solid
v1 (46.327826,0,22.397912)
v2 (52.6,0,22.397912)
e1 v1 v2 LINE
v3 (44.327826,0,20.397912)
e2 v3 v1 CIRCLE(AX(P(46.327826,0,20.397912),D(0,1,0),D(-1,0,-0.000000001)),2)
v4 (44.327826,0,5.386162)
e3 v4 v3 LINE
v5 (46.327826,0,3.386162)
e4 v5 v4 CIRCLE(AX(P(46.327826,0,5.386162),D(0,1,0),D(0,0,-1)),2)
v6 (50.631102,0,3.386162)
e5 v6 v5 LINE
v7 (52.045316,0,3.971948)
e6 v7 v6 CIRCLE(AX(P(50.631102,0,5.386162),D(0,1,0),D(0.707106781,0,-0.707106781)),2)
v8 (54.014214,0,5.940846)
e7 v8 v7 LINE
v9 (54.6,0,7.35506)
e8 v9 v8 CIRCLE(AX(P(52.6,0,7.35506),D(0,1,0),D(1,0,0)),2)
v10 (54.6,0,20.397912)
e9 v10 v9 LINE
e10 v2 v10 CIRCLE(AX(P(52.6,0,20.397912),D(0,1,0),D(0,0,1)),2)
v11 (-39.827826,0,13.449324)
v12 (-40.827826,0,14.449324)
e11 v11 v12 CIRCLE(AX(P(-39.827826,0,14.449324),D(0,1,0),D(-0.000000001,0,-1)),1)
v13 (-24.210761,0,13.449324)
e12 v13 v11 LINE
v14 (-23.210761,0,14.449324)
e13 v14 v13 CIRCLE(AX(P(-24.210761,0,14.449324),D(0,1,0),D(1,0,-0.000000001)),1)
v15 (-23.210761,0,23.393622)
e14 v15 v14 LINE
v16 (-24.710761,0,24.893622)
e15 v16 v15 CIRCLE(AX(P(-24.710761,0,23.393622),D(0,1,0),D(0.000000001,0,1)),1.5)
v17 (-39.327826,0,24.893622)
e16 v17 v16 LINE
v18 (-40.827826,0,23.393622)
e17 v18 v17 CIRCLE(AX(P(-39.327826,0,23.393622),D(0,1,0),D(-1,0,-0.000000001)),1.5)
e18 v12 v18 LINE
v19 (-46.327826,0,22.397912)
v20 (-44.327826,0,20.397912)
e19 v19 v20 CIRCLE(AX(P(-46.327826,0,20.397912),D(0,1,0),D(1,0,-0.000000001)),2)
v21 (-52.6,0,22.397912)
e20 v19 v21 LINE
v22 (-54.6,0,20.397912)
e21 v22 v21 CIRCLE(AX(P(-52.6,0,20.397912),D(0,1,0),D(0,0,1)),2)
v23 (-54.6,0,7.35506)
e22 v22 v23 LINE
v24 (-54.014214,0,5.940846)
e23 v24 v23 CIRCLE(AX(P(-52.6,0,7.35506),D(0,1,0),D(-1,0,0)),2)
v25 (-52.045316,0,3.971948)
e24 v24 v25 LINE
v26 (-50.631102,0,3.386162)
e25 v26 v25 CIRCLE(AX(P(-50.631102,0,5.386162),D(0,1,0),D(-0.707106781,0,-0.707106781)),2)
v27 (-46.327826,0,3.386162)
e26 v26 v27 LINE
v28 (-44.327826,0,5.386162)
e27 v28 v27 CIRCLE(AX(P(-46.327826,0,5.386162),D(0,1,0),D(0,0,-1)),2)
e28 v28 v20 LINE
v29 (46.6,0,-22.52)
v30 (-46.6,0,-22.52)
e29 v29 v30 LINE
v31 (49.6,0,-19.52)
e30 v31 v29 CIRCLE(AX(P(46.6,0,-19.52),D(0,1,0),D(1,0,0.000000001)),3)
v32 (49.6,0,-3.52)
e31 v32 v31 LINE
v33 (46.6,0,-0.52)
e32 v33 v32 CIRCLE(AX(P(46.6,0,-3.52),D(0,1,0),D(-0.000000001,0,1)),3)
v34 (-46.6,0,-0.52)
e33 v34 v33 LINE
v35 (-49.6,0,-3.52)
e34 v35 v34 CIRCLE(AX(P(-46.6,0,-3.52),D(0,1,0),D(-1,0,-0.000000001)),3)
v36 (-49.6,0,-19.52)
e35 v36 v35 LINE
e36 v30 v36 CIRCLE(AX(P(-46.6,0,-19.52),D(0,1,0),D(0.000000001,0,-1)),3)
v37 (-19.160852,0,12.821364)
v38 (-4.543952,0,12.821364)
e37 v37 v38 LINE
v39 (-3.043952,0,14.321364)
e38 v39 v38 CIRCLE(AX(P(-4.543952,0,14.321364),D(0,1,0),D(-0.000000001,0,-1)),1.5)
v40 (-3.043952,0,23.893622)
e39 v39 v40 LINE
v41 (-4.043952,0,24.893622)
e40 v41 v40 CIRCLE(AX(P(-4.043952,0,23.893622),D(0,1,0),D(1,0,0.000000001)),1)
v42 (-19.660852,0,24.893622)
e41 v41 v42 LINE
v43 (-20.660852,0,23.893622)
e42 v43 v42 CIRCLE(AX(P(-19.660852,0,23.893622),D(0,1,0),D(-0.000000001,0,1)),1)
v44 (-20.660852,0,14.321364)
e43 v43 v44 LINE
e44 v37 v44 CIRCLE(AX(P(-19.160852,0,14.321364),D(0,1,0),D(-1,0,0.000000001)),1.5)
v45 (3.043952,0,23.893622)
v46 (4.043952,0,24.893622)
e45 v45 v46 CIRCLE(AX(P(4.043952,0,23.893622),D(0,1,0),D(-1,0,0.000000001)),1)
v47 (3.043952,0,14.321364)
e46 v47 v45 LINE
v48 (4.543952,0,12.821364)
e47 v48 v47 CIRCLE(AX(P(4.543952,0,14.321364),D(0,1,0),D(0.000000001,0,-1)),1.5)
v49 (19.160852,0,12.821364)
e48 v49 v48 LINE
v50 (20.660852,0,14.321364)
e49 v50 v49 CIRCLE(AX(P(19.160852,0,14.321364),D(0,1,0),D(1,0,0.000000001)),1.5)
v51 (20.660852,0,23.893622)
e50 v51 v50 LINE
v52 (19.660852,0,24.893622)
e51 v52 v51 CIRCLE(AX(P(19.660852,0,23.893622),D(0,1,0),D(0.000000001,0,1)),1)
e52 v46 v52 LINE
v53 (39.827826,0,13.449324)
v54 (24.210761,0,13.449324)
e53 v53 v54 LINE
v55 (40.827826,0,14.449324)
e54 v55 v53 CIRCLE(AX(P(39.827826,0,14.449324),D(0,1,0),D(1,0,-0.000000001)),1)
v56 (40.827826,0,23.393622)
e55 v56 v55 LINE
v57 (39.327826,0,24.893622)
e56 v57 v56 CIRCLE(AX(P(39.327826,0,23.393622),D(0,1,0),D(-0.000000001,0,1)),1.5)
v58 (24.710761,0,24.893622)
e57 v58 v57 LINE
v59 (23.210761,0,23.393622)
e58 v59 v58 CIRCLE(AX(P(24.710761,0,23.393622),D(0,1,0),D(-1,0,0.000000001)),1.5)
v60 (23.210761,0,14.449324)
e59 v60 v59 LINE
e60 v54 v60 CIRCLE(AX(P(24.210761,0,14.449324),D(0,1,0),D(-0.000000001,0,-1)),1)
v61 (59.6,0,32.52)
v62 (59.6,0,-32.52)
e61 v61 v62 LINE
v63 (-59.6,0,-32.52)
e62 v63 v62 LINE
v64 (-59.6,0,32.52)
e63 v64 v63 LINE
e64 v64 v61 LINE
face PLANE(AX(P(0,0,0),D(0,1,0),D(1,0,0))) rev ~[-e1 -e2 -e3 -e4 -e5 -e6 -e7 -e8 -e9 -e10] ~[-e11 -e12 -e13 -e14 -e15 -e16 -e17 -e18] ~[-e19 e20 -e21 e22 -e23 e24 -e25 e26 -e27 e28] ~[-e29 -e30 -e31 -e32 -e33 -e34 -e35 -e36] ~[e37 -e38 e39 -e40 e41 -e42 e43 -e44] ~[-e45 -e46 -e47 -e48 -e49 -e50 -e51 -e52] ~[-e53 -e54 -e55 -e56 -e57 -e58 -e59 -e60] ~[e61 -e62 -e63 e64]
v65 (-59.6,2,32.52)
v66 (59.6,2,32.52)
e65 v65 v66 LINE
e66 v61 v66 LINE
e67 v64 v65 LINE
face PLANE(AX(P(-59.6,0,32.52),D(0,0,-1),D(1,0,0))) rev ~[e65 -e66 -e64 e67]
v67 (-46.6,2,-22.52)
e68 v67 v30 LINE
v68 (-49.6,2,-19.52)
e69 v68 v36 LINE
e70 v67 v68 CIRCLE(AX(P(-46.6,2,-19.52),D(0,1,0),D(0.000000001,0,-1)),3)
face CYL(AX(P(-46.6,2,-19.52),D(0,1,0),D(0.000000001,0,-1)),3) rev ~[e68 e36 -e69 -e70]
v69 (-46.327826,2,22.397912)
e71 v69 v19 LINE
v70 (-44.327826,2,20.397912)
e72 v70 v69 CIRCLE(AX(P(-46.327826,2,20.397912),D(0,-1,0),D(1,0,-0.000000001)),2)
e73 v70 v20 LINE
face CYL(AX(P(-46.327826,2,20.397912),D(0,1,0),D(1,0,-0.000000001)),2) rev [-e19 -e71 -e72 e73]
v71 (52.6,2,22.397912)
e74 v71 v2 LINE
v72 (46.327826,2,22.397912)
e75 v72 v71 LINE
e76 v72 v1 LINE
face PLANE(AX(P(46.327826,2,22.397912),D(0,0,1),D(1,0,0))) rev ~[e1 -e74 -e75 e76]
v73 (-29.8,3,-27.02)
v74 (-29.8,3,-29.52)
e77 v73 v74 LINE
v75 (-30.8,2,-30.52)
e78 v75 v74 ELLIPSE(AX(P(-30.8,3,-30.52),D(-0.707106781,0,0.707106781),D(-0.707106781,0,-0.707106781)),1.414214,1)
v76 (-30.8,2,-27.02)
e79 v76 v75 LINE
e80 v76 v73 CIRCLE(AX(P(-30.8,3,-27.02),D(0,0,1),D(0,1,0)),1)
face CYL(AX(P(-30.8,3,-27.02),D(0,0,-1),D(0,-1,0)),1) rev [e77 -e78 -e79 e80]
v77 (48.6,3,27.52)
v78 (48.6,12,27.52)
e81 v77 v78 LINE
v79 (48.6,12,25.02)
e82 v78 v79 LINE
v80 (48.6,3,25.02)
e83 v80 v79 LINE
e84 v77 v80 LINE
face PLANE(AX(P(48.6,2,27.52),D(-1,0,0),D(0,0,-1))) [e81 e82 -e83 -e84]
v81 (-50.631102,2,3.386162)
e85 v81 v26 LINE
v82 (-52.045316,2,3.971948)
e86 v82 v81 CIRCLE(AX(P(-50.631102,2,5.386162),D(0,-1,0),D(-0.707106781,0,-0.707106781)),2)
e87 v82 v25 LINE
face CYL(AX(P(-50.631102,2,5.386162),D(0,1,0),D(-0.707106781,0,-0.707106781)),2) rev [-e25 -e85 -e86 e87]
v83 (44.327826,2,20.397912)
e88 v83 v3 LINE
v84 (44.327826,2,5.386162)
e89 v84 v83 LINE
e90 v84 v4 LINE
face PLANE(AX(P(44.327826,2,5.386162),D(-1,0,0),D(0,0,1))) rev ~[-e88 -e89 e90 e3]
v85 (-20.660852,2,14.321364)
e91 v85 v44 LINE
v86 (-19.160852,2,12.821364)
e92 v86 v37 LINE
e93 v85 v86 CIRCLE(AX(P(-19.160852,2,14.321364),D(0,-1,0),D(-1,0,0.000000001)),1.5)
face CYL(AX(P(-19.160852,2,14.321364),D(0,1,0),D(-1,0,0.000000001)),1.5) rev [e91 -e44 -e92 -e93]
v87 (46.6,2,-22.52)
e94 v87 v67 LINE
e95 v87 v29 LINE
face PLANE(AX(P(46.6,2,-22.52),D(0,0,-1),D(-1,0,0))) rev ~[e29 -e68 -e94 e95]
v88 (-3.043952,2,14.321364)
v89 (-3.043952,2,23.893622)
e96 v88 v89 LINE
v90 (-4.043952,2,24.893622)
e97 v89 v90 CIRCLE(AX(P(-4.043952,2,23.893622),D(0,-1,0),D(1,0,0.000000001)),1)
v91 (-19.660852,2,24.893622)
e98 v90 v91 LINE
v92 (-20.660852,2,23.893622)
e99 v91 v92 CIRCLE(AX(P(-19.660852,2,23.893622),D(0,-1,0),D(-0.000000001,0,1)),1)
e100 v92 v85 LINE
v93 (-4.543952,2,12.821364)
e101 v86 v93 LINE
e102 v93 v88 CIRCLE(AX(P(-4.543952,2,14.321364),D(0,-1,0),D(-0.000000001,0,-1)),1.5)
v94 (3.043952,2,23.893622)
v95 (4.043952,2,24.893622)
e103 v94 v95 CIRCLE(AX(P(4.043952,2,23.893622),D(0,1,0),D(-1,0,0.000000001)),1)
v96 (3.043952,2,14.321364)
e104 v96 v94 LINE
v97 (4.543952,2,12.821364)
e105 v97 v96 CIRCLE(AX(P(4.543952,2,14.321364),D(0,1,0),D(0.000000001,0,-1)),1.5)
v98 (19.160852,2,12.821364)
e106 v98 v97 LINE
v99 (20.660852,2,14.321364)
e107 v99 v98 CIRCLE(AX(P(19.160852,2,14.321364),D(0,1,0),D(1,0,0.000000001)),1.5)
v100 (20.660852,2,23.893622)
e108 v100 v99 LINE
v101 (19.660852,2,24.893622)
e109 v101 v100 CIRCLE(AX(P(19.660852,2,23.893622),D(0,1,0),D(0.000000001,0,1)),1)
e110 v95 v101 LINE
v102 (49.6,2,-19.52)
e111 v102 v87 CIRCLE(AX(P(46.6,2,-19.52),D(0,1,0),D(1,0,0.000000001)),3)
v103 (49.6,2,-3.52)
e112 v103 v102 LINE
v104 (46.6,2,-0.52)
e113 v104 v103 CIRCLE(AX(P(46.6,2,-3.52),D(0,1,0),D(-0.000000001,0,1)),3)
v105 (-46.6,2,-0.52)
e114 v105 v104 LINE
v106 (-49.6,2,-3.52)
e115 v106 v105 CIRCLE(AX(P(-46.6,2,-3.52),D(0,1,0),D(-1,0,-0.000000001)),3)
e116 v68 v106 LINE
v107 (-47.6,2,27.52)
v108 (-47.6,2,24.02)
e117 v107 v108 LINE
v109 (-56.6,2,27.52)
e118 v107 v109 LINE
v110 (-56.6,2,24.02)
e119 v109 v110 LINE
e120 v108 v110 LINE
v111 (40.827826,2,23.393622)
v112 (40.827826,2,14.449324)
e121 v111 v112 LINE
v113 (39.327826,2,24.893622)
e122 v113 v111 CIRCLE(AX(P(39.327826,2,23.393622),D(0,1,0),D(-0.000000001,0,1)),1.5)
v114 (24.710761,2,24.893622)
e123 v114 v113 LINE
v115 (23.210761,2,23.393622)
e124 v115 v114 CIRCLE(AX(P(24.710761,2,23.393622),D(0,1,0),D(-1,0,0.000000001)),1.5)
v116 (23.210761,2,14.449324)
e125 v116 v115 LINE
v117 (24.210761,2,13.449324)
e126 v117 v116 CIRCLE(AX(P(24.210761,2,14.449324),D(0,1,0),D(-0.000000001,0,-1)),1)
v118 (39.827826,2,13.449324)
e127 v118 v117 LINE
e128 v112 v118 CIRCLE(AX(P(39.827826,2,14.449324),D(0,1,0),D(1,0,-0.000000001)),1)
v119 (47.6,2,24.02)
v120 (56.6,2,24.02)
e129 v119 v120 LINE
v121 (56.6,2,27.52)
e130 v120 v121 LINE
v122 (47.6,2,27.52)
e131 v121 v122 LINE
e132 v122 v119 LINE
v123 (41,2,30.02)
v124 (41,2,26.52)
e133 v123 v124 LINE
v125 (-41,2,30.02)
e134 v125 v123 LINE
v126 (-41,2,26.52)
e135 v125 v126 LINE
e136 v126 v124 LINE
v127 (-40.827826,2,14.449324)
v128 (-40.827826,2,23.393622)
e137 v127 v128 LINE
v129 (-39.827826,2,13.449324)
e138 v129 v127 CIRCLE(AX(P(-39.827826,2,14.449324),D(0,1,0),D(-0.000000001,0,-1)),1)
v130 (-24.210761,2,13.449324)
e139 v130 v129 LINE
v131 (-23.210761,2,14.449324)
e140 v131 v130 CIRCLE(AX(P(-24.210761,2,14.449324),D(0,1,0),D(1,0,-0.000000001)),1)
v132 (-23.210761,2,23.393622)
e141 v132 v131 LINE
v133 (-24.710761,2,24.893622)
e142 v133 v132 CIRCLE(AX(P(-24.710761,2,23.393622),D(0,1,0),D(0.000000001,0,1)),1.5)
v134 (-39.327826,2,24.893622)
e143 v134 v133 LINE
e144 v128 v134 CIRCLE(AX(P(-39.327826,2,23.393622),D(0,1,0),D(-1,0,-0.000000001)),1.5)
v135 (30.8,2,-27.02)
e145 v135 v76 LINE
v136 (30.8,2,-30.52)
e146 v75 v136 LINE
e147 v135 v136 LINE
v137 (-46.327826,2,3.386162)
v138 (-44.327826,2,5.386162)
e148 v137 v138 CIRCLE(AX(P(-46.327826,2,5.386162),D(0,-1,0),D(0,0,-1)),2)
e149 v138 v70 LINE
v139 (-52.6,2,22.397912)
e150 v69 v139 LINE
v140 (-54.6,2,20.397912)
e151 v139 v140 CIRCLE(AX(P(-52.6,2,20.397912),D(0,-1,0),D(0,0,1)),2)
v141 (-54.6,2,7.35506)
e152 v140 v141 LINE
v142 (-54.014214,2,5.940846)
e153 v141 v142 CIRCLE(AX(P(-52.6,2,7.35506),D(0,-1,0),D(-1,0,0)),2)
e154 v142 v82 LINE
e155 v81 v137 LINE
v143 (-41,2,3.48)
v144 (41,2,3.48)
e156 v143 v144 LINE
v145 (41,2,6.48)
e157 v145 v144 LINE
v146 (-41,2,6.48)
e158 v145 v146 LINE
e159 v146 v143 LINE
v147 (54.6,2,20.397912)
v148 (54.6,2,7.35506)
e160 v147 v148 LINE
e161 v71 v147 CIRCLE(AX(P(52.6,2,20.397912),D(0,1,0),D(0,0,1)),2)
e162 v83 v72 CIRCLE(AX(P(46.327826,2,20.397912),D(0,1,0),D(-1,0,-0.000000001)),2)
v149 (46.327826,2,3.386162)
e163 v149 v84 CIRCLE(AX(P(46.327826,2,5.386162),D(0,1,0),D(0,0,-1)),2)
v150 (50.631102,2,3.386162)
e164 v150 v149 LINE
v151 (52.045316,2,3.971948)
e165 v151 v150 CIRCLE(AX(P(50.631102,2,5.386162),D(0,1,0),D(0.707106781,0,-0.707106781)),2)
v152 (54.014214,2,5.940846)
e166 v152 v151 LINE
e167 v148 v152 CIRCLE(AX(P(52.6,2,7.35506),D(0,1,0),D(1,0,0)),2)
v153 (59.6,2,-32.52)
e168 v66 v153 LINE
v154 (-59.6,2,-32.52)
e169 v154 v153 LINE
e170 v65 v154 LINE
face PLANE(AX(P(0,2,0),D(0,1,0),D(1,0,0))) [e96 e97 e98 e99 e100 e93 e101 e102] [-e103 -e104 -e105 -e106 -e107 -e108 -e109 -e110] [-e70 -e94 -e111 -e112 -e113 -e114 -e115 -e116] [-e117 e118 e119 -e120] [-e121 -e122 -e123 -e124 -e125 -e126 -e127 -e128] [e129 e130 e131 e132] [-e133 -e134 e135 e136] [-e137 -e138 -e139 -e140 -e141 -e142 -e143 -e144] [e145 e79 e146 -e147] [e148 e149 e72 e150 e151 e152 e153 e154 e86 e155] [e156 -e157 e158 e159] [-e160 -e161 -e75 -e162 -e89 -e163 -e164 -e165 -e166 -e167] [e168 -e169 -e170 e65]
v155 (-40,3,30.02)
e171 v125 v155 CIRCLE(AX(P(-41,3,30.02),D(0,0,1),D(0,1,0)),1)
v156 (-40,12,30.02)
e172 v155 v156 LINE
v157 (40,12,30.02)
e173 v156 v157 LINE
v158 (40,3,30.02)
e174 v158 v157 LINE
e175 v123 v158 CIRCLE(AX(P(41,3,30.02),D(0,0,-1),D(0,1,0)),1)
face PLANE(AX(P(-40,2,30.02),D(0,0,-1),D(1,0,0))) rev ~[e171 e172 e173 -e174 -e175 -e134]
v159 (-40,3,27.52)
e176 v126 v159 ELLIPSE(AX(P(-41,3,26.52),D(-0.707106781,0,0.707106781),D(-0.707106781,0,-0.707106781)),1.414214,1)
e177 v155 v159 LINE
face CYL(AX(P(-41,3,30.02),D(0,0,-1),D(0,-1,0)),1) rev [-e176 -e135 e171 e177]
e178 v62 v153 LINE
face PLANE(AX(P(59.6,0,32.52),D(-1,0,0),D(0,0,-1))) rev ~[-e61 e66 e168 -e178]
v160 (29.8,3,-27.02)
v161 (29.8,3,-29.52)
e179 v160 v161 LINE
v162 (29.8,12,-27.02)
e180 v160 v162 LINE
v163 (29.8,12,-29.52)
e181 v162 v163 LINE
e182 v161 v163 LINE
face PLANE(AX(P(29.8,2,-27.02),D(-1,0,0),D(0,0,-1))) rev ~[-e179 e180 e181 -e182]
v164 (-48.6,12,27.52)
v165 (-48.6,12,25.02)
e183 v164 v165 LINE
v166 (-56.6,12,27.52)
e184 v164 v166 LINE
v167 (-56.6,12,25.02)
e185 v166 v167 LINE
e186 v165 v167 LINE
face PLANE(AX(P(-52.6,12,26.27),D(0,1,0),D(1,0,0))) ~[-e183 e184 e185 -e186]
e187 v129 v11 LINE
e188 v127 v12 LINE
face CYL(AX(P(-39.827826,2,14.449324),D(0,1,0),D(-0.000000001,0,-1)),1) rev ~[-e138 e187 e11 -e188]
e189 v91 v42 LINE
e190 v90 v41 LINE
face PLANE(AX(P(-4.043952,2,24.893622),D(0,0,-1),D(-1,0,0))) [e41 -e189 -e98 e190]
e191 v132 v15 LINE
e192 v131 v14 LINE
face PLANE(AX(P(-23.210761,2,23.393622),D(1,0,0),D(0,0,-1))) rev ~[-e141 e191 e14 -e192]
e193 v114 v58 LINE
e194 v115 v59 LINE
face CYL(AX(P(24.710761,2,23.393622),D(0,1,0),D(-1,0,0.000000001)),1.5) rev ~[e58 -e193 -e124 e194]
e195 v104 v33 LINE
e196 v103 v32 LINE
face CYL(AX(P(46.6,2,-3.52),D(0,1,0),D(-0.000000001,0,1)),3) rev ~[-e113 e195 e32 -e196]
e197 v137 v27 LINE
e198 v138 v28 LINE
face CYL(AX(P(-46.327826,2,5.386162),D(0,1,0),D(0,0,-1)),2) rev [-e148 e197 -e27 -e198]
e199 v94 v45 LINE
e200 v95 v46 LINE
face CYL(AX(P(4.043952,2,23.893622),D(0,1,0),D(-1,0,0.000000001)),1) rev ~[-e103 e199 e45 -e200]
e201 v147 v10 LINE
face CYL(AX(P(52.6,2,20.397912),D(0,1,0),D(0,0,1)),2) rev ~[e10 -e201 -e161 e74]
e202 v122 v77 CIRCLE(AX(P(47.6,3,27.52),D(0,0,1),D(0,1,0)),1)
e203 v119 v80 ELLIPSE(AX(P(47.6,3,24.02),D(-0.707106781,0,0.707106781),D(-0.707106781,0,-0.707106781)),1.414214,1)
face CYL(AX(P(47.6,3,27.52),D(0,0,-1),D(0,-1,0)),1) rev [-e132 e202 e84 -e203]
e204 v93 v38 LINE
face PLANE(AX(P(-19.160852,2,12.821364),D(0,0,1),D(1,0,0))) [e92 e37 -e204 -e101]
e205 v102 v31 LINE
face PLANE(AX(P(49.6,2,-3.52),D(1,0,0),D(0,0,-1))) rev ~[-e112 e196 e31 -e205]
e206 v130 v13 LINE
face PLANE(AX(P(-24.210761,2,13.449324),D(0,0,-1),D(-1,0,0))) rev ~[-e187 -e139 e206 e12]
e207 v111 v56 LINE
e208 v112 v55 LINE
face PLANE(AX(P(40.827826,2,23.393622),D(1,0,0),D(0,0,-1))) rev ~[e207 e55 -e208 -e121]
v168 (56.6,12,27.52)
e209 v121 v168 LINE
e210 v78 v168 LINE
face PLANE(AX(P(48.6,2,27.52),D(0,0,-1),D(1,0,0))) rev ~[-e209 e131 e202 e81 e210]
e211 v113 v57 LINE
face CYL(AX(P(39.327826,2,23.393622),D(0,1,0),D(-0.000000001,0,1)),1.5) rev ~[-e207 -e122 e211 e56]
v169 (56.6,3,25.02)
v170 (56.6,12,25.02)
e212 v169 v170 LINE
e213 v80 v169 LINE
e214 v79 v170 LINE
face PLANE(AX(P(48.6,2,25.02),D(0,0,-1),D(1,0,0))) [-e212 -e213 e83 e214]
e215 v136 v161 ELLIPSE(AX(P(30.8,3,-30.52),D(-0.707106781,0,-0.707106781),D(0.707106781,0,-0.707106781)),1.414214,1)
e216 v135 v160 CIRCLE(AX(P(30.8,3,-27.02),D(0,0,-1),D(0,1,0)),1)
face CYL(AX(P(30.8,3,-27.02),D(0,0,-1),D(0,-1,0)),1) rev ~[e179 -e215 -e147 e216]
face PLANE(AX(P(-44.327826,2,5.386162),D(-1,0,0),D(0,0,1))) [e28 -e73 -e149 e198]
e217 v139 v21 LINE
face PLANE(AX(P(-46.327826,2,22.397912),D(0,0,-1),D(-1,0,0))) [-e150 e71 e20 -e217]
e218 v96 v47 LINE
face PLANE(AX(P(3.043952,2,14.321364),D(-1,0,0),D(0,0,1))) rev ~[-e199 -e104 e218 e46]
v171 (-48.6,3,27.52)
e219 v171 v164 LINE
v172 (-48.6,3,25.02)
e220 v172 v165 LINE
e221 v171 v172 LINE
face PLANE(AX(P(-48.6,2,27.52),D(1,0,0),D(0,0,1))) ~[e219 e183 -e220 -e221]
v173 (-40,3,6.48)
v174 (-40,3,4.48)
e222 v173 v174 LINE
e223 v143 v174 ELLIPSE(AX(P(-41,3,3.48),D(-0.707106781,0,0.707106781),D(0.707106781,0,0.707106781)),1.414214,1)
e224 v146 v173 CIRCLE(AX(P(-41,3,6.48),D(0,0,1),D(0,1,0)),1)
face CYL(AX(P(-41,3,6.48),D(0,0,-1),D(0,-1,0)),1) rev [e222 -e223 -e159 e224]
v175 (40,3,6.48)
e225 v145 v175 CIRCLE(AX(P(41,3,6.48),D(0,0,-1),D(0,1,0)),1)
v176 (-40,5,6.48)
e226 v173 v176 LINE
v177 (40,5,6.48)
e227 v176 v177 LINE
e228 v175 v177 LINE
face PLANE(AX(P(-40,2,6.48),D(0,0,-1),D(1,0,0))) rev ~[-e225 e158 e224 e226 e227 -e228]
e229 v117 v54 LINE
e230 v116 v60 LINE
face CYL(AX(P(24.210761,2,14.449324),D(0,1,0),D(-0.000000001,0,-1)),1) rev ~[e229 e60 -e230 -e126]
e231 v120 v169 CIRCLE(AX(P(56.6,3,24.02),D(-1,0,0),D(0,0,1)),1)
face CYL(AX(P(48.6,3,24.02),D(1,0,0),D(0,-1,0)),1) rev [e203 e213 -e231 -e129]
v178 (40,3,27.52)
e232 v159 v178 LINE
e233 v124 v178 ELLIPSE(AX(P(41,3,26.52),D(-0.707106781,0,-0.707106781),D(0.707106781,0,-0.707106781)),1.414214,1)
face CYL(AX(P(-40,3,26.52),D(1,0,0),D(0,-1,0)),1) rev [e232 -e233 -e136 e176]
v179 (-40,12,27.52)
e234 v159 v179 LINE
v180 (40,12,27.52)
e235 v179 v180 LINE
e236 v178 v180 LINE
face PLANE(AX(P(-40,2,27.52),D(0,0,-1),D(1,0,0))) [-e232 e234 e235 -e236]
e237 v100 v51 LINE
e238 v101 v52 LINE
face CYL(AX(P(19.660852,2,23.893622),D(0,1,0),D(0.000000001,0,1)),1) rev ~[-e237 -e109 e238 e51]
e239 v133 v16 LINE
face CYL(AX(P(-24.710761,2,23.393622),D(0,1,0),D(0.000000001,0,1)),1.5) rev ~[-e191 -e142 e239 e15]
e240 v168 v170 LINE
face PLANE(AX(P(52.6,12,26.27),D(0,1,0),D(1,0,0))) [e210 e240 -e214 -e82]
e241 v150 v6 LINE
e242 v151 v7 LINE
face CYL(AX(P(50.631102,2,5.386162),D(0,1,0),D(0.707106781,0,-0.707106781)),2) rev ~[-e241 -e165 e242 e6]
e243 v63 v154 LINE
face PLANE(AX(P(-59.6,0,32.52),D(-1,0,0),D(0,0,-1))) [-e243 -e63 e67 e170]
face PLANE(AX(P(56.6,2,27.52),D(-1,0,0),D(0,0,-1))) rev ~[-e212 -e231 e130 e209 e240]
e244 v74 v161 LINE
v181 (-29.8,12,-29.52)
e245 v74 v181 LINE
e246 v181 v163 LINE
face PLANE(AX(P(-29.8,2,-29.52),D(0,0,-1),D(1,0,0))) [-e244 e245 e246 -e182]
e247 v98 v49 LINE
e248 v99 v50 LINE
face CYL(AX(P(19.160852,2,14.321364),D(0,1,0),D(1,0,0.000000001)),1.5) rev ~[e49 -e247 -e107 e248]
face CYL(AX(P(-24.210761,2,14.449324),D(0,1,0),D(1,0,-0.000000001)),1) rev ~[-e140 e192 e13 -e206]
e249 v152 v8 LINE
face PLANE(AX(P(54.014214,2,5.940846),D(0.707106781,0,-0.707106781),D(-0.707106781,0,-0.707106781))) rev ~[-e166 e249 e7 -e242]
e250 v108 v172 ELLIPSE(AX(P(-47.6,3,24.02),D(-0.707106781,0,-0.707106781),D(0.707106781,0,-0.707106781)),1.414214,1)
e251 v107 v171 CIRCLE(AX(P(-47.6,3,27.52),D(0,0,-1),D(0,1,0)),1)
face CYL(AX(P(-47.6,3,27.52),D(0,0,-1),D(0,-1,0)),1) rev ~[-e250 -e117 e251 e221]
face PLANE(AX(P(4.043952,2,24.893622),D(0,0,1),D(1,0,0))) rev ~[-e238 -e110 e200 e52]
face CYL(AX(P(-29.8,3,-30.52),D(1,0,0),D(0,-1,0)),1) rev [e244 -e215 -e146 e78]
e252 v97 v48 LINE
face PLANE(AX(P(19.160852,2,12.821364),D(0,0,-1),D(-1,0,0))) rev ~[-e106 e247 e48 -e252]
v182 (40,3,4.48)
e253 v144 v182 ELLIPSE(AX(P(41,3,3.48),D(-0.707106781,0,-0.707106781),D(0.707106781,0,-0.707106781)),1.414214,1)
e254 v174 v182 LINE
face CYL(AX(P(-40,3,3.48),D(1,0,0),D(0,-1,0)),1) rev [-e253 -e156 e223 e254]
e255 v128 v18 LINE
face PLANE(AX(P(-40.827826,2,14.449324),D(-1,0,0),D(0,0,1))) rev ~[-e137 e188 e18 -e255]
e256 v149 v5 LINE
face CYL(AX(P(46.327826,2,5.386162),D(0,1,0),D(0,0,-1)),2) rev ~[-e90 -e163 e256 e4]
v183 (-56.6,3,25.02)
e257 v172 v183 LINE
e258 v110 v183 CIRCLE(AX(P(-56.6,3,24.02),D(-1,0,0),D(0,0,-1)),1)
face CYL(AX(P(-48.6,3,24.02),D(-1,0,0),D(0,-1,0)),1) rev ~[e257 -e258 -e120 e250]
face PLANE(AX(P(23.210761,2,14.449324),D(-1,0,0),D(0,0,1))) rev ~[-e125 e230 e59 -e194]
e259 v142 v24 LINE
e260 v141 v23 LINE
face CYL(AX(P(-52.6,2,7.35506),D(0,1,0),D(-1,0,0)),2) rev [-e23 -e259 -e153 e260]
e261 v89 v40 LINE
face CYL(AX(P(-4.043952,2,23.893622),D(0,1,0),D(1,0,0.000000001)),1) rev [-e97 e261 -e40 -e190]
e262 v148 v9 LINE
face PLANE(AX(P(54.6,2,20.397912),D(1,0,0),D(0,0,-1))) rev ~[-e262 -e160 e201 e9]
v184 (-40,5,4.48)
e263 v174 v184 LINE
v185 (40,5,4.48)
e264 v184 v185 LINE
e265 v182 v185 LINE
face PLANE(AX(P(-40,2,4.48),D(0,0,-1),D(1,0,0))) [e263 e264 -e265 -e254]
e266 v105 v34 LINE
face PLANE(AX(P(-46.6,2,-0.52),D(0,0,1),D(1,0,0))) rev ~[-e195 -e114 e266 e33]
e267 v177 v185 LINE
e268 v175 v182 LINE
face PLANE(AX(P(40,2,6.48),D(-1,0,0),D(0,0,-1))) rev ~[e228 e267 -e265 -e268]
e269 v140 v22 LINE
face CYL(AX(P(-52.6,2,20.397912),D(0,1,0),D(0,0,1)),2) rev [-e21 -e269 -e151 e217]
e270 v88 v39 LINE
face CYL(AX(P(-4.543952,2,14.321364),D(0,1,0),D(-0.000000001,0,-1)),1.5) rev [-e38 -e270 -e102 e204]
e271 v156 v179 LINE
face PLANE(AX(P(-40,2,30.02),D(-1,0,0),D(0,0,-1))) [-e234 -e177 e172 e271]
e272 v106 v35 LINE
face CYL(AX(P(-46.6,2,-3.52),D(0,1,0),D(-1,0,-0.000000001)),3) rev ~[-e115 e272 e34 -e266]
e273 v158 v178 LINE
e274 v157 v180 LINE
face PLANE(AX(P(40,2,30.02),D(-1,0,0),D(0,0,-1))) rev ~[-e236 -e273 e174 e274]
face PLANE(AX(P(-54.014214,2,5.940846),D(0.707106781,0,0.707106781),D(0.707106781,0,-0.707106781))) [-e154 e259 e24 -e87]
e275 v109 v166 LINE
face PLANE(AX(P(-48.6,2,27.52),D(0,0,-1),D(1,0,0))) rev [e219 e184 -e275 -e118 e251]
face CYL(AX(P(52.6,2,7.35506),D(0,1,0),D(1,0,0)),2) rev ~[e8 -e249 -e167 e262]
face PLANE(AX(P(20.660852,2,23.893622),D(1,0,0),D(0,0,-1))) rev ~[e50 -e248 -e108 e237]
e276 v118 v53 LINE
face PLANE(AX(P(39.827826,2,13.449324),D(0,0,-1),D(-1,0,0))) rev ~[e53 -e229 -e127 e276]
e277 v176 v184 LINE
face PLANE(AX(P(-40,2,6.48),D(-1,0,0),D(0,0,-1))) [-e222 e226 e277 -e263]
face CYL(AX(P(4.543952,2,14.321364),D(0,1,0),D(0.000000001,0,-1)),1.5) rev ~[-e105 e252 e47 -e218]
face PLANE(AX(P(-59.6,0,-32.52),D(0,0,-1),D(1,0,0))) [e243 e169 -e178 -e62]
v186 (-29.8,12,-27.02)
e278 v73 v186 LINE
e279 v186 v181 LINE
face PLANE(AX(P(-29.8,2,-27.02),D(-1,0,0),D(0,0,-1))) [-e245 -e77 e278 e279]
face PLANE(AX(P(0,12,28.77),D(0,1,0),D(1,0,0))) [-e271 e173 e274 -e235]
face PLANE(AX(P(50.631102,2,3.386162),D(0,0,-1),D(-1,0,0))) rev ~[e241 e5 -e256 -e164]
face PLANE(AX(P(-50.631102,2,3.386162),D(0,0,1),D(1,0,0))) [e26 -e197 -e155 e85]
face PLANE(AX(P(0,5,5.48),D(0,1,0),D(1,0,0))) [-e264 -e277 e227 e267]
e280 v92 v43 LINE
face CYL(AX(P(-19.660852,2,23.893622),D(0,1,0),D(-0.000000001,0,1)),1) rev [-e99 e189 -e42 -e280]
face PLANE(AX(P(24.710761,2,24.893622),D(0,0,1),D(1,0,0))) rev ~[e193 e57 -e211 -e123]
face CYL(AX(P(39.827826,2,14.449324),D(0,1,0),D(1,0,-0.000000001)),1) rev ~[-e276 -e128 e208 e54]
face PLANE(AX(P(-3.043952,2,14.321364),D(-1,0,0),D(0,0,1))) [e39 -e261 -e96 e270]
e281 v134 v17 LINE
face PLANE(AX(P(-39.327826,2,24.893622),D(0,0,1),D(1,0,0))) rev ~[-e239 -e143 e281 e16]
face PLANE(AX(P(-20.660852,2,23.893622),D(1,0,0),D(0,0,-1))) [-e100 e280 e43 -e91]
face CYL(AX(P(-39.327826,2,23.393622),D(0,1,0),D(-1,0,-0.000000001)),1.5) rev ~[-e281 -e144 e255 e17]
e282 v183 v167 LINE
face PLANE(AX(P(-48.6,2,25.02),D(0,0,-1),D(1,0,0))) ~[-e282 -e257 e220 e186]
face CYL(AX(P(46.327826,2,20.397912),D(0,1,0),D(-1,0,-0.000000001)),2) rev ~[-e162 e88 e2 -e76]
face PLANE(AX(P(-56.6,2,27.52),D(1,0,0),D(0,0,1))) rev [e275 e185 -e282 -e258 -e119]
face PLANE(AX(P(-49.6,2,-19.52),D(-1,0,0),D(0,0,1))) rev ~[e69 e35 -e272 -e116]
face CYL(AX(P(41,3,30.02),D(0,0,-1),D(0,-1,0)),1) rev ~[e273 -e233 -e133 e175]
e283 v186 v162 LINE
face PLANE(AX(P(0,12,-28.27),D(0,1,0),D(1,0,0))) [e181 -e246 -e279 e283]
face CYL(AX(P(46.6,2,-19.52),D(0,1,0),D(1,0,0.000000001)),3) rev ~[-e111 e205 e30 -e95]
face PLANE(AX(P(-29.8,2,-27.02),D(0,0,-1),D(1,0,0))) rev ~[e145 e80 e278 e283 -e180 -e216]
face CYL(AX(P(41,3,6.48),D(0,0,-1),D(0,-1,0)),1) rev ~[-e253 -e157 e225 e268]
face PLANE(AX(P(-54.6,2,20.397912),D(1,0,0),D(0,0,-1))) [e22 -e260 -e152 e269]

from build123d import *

# Parameters (mm, degrees)
SKETCH1_W           = 119.2
SKETCH1_H           = 65.04
BOSS_EXTRUDE1_DEPTH = 2
SKETCH2_W           = 59.6
SKETCH2_H           = 2.5
SKETCH2_W_2         = 80
SKETCH2_H_2         = 2
BOSS_EXTRUDE2_DEPTH = 10
FILLET1_R           = 1
SKETCH3_W           = 80
SKETCH3_H           = 2
CUT_EXTRUDE1_DEPTH  = 7
SKETCH4_W           = 80
SKETCH4_H           = 2.5
SKETCH4_W_2         = 8
BOSS_EXTRUDE3_DEPTH = 10
FILLET2_R           = 1
FILLET3_R           = 1
CUT_EXTRUDE2_DEPTH  = 10
CUT_EXTRUDE3_DEPTH  = 10


with BuildPart() as part:
    # Sketch1 → Boss-Extrude1 (new body)
    with BuildSketch(Plane(origin=(0, 0, 0), x_dir=(1, 0, 0), z_dir=(0, 1, 0))):
        Rectangle(SKETCH1_W, SKETCH1_H)
    extrude(amount=BOSS_EXTRUDE1_DEPTH)

    # Sketch2 → Boss-Extrude2 (add)
    with BuildSketch(Plane(origin=(0, 2, 0), x_dir=(1, 0, 0), z_dir=(0, 1, 0))):
        with Locations((0, 28.27)):
            Rectangle(SKETCH2_W, SKETCH2_H)
        with Locations((0, -5.48)):
            Rectangle(SKETCH2_W_2, SKETCH2_H_2)
    extrude(amount=BOSS_EXTRUDE2_DEPTH)

    # Fillet1
    fillet1_edges = [part.edges().sort_by_distance(p)[0] for p in [
        (40, 2, 5.48),
        (0, 2, 4.48),
        (-40, 2, 5.48),
        (-29.8, 2, -28.27),
        (29.8, 2, -28.27),
        (0, 2, -29.52),
    ]]
    fillet(fillet1_edges, radius=FILLET1_R)

    # Sketch3 → Cut-Extrude1 (cut)
    with BuildSketch(Plane(origin=(0, 12, 0), x_dir=(1, 0, 0), z_dir=(0, 1, 0))):
        with Locations((0, -5.48)):
            Rectangle(SKETCH3_W, SKETCH3_H)
        with Locations((0, -9.48)):
            Rectangle(SKETCH3_W, SKETCH3_H)
    extrude(amount=-CUT_EXTRUDE1_DEPTH, mode=Mode.SUBTRACT)

    # Sketch4 → Boss-Extrude3 (add)
    with BuildSketch(Plane(origin=(0, 2, 0), x_dir=(1, 0, 0), z_dir=(0, 1, 0))):
        with Locations((0, -28.77)):
            Rectangle(SKETCH4_W, SKETCH4_H)
        with Locations((52.6, -26.27)):
            Rectangle(SKETCH4_W_2, SKETCH4_H)
    boss_extrude3 = extrude(amount=BOSS_EXTRUDE3_DEPTH)

    # Fillet2
    fillet2_edges = [part.edges().sort_by_distance(p)[0] for p in [
        (-40, 2, 28.77),
        (48.6, 2, 26.27),
        (52.6, 2, 25.02),
        (40, 2, 28.77),
        (0, 2, 27.52),
    ]]
    fillet(fillet2_edges, radius=FILLET2_R)

    # Mirror1: Boss-Extrude3 across plane
    add(boss_extrude3.mirror(Plane.ZY))

    # Fillet3
    fillet3_edges = [part.edges().sort_by_distance(p)[0] for p in [
        (-48.6, 2, 26.27),
        (-52.6, 2, 25.02),
    ]]
    fillet(fillet3_edges, radius=FILLET3_R)

    # Sketch5 → Cut-Extrude2 (cut)
    with BuildSketch(Plane(origin=(0, 2, 0), x_dir=(1, 0, 0), z_dir=(0, 1, 0))):
        with BuildLine():
            Line((46.6, 22.52), (6.311514948, 22.52))
            Line((6.311514948, 22.52), (-46.6, 22.52))
            ThreePointArc((-46.6, 22.52), (-48.721320344, 21.641320344), (-49.6, 19.52))
            Line((-49.6, 19.52), (-49.6, 3.52))
            ThreePointArc((-49.6, 3.52), (-48.721320344, 1.398679656), (-46.6, 0.52))
            Line((-46.6, 0.52), (46.6, 0.52))
            ThreePointArc((46.6, 0.52), (48.721320344, 1.398679656), (49.6, 3.52))
            Line((49.6, 3.52), (49.6, 19.52))
            ThreePointArc((49.6, 19.52), (48.721320344, 21.641320344), (46.6, 22.52))
        make_face()
    extrude(amount=-CUT_EXTRUDE2_DEPTH, mode=Mode.SUBTRACT)

    # Sketch6 → Cut-Extrude3 (cut)
    with BuildSketch(Plane(origin=(0, 2, 0), x_dir=(1, 0, 0), z_dir=(0, 1, 0))):
        with BuildLine():
            Line((54.014213562, -5.94084617), (52.045315698, -3.971948306))
            ThreePointArc((52.045315698, -3.971948306), (51.396469, -3.538402803), (50.631102135, -3.386161868))
            Line((50.631102135, -3.386161868), (46.32782558, -3.386161868))
            ThreePointArc((46.32782558, -3.386161868), (44.913612017, -3.971948306), (44.32782558, -5.386161868))
            Line((44.32782558, -5.386161868), (44.32782558, -20.397912268))
            ThreePointArc((44.32782558, -20.397912268), (44.913612017, -21.812125831), (46.32782558, -22.397912268))
            Line((46.32782558, -22.397912268), (52.6, -22.397912268))
            ThreePointArc((52.6, -22.397912268), (54.014213562, -21.812125831), (54.6, -20.397912268))
            Line((54.6, -20.397912268), (54.6, -7.355059733))
            ThreePointArc((54.6, -7.355059733), (54.447759065, -6.589692868), (54.014213562, -5.94084617))
        make_face()
        with BuildLine():
            Line((39.82782558, -13.44932419), (24.210760832, -13.44932419))
            ThreePointArc((24.210760832, -13.44932419), (23.503654051, -13.742217409), (23.210760832, -14.44932419))
            Line((23.210760832, -14.44932419), (23.210760832, -23.393622011))
            ThreePointArc((23.210760832, -23.393622011), (23.650100661, -24.454282183), (24.710760832, -24.893622011))
            Line((24.710760832, -24.893622011), (39.32782558, -24.893622011))
            ThreePointArc((39.32782558, -24.893622011), (40.388485752, -24.454282183), (40.82782558, -23.393622011))
            Line((40.82782558, -23.393622011), (40.82782558, -14.44932419))
            ThreePointArc((40.82782558, -14.44932419), (40.534932361, -13.742217409), (39.82782558, -13.44932419))
        make_face()
        with BuildLine():
            Line((4.043952302, -24.893622011), (19.660852384, -24.893622011))
            ThreePointArc((19.660852384, -24.893622011), (20.367959165, -24.600728792), (20.660852384, -23.893622011))
            Line((20.660852384, -23.893622011), (20.660852384, -14.321364431))
            ThreePointArc((20.660852384, -14.321364431), (20.221512556, -13.260704259), (19.160852384, -12.821364431))
            Line((19.160852384, -12.821364431), (4.543952302, -12.821364431))
            ThreePointArc((4.543952302, -12.821364431), (3.48329213, -13.260704259), (3.043952302, -14.321364431))
            Line((3.043952302, -14.321364431), (3.043952302, -23.893622011))
            ThreePointArc((3.043952302, -23.893622011), (3.336845521, -24.600728792), (4.043952302, -24.893622011))
        make_face()
        with BuildLine():
            Line((-4.043952302, -24.893622011), (-19.660852384, -24.893622011))
            ThreePointArc((-19.660852384, -24.893622011), (-20.367959165, -24.600728792), (-20.660852384, -23.893622011))
            Line((-20.660852384, -23.893622011), (-20.660852384, -14.321364431))
            ThreePointArc((-20.660852384, -14.321364431), (-20.221512556, -13.260704259), (-19.160852384, -12.821364431))
            Line((-19.160852384, -12.821364431), (-4.543952302, -12.821364431))
            ThreePointArc((-4.543952302, -12.821364431), (-3.48329213, -13.260704259), (-3.043952302, -14.321364431))
            Line((-3.043952302, -14.321364431), (-3.043952302, -23.893622011))
            ThreePointArc((-3.043952302, -23.893622011), (-3.336845521, -24.600728792), (-4.043952302, -24.893622011))
        make_face()
        with BuildLine():
            Line((-39.32782558, -24.893622011), (-24.710760832, -24.893622011))
            ThreePointArc((-24.710760832, -24.893622011), (-23.650100661, -24.454282183), (-23.210760832, -23.393622011))
            Line((-23.210760832, -23.393622011), (-23.210760832, -14.44932419))
            ThreePointArc((-23.210760832, -14.44932419), (-23.503654051, -13.742217409), (-24.210760832, -13.44932419))
            Line((-24.210760832, -13.44932419), (-39.82782558, -13.44932419))
            ThreePointArc((-39.82782558, -13.44932419), (-40.534932361, -13.742217409), (-40.82782558, -14.44932419))
            Line((-40.82782558, -14.44932419), (-40.82782558, -23.393622011))
            ThreePointArc((-40.82782558, -23.393622011), (-40.388485752, -24.454282183), (-39.32782558, -24.893622011))
        make_face()
        with BuildLine():
            Line((-44.32782558, -5.386161868), (-44.32782558, -20.397912268))
            ThreePointArc((-44.32782558, -20.397912268), (-44.913612017, -21.812125831), (-46.32782558, -22.397912268))
            Line((-46.32782558, -22.397912268), (-52.6, -22.397912268))
            ThreePointArc((-52.6, -22.397912268), (-54.014213562, -21.812125831), (-54.6, -20.397912268))
            Line((-54.6, -20.397912268), (-54.6, -7.355059733))
            ThreePointArc((-54.6, -7.355059733), (-54.447759065, -6.589692868), (-54.014213562, -5.94084617))
            Line((-54.014213562, -5.94084617), (-52.045315698, -3.971948306))
            ThreePointArc((-52.045315698, -3.971948306), (-51.396469, -3.538402803), (-50.631102135, -3.386161868))
            Line((-50.631102135, -3.386161868), (-46.32782558, -3.386161868))
            ThreePointArc((-46.32782558, -3.386161868), (-44.913612017, -3.971948306), (-44.32782558, -5.386161868))
        make_face()
    extrude(amount=-CUT_EXTRUDE3_DEPTH, mode=Mode.SUBTRACT)


solid = part.part
